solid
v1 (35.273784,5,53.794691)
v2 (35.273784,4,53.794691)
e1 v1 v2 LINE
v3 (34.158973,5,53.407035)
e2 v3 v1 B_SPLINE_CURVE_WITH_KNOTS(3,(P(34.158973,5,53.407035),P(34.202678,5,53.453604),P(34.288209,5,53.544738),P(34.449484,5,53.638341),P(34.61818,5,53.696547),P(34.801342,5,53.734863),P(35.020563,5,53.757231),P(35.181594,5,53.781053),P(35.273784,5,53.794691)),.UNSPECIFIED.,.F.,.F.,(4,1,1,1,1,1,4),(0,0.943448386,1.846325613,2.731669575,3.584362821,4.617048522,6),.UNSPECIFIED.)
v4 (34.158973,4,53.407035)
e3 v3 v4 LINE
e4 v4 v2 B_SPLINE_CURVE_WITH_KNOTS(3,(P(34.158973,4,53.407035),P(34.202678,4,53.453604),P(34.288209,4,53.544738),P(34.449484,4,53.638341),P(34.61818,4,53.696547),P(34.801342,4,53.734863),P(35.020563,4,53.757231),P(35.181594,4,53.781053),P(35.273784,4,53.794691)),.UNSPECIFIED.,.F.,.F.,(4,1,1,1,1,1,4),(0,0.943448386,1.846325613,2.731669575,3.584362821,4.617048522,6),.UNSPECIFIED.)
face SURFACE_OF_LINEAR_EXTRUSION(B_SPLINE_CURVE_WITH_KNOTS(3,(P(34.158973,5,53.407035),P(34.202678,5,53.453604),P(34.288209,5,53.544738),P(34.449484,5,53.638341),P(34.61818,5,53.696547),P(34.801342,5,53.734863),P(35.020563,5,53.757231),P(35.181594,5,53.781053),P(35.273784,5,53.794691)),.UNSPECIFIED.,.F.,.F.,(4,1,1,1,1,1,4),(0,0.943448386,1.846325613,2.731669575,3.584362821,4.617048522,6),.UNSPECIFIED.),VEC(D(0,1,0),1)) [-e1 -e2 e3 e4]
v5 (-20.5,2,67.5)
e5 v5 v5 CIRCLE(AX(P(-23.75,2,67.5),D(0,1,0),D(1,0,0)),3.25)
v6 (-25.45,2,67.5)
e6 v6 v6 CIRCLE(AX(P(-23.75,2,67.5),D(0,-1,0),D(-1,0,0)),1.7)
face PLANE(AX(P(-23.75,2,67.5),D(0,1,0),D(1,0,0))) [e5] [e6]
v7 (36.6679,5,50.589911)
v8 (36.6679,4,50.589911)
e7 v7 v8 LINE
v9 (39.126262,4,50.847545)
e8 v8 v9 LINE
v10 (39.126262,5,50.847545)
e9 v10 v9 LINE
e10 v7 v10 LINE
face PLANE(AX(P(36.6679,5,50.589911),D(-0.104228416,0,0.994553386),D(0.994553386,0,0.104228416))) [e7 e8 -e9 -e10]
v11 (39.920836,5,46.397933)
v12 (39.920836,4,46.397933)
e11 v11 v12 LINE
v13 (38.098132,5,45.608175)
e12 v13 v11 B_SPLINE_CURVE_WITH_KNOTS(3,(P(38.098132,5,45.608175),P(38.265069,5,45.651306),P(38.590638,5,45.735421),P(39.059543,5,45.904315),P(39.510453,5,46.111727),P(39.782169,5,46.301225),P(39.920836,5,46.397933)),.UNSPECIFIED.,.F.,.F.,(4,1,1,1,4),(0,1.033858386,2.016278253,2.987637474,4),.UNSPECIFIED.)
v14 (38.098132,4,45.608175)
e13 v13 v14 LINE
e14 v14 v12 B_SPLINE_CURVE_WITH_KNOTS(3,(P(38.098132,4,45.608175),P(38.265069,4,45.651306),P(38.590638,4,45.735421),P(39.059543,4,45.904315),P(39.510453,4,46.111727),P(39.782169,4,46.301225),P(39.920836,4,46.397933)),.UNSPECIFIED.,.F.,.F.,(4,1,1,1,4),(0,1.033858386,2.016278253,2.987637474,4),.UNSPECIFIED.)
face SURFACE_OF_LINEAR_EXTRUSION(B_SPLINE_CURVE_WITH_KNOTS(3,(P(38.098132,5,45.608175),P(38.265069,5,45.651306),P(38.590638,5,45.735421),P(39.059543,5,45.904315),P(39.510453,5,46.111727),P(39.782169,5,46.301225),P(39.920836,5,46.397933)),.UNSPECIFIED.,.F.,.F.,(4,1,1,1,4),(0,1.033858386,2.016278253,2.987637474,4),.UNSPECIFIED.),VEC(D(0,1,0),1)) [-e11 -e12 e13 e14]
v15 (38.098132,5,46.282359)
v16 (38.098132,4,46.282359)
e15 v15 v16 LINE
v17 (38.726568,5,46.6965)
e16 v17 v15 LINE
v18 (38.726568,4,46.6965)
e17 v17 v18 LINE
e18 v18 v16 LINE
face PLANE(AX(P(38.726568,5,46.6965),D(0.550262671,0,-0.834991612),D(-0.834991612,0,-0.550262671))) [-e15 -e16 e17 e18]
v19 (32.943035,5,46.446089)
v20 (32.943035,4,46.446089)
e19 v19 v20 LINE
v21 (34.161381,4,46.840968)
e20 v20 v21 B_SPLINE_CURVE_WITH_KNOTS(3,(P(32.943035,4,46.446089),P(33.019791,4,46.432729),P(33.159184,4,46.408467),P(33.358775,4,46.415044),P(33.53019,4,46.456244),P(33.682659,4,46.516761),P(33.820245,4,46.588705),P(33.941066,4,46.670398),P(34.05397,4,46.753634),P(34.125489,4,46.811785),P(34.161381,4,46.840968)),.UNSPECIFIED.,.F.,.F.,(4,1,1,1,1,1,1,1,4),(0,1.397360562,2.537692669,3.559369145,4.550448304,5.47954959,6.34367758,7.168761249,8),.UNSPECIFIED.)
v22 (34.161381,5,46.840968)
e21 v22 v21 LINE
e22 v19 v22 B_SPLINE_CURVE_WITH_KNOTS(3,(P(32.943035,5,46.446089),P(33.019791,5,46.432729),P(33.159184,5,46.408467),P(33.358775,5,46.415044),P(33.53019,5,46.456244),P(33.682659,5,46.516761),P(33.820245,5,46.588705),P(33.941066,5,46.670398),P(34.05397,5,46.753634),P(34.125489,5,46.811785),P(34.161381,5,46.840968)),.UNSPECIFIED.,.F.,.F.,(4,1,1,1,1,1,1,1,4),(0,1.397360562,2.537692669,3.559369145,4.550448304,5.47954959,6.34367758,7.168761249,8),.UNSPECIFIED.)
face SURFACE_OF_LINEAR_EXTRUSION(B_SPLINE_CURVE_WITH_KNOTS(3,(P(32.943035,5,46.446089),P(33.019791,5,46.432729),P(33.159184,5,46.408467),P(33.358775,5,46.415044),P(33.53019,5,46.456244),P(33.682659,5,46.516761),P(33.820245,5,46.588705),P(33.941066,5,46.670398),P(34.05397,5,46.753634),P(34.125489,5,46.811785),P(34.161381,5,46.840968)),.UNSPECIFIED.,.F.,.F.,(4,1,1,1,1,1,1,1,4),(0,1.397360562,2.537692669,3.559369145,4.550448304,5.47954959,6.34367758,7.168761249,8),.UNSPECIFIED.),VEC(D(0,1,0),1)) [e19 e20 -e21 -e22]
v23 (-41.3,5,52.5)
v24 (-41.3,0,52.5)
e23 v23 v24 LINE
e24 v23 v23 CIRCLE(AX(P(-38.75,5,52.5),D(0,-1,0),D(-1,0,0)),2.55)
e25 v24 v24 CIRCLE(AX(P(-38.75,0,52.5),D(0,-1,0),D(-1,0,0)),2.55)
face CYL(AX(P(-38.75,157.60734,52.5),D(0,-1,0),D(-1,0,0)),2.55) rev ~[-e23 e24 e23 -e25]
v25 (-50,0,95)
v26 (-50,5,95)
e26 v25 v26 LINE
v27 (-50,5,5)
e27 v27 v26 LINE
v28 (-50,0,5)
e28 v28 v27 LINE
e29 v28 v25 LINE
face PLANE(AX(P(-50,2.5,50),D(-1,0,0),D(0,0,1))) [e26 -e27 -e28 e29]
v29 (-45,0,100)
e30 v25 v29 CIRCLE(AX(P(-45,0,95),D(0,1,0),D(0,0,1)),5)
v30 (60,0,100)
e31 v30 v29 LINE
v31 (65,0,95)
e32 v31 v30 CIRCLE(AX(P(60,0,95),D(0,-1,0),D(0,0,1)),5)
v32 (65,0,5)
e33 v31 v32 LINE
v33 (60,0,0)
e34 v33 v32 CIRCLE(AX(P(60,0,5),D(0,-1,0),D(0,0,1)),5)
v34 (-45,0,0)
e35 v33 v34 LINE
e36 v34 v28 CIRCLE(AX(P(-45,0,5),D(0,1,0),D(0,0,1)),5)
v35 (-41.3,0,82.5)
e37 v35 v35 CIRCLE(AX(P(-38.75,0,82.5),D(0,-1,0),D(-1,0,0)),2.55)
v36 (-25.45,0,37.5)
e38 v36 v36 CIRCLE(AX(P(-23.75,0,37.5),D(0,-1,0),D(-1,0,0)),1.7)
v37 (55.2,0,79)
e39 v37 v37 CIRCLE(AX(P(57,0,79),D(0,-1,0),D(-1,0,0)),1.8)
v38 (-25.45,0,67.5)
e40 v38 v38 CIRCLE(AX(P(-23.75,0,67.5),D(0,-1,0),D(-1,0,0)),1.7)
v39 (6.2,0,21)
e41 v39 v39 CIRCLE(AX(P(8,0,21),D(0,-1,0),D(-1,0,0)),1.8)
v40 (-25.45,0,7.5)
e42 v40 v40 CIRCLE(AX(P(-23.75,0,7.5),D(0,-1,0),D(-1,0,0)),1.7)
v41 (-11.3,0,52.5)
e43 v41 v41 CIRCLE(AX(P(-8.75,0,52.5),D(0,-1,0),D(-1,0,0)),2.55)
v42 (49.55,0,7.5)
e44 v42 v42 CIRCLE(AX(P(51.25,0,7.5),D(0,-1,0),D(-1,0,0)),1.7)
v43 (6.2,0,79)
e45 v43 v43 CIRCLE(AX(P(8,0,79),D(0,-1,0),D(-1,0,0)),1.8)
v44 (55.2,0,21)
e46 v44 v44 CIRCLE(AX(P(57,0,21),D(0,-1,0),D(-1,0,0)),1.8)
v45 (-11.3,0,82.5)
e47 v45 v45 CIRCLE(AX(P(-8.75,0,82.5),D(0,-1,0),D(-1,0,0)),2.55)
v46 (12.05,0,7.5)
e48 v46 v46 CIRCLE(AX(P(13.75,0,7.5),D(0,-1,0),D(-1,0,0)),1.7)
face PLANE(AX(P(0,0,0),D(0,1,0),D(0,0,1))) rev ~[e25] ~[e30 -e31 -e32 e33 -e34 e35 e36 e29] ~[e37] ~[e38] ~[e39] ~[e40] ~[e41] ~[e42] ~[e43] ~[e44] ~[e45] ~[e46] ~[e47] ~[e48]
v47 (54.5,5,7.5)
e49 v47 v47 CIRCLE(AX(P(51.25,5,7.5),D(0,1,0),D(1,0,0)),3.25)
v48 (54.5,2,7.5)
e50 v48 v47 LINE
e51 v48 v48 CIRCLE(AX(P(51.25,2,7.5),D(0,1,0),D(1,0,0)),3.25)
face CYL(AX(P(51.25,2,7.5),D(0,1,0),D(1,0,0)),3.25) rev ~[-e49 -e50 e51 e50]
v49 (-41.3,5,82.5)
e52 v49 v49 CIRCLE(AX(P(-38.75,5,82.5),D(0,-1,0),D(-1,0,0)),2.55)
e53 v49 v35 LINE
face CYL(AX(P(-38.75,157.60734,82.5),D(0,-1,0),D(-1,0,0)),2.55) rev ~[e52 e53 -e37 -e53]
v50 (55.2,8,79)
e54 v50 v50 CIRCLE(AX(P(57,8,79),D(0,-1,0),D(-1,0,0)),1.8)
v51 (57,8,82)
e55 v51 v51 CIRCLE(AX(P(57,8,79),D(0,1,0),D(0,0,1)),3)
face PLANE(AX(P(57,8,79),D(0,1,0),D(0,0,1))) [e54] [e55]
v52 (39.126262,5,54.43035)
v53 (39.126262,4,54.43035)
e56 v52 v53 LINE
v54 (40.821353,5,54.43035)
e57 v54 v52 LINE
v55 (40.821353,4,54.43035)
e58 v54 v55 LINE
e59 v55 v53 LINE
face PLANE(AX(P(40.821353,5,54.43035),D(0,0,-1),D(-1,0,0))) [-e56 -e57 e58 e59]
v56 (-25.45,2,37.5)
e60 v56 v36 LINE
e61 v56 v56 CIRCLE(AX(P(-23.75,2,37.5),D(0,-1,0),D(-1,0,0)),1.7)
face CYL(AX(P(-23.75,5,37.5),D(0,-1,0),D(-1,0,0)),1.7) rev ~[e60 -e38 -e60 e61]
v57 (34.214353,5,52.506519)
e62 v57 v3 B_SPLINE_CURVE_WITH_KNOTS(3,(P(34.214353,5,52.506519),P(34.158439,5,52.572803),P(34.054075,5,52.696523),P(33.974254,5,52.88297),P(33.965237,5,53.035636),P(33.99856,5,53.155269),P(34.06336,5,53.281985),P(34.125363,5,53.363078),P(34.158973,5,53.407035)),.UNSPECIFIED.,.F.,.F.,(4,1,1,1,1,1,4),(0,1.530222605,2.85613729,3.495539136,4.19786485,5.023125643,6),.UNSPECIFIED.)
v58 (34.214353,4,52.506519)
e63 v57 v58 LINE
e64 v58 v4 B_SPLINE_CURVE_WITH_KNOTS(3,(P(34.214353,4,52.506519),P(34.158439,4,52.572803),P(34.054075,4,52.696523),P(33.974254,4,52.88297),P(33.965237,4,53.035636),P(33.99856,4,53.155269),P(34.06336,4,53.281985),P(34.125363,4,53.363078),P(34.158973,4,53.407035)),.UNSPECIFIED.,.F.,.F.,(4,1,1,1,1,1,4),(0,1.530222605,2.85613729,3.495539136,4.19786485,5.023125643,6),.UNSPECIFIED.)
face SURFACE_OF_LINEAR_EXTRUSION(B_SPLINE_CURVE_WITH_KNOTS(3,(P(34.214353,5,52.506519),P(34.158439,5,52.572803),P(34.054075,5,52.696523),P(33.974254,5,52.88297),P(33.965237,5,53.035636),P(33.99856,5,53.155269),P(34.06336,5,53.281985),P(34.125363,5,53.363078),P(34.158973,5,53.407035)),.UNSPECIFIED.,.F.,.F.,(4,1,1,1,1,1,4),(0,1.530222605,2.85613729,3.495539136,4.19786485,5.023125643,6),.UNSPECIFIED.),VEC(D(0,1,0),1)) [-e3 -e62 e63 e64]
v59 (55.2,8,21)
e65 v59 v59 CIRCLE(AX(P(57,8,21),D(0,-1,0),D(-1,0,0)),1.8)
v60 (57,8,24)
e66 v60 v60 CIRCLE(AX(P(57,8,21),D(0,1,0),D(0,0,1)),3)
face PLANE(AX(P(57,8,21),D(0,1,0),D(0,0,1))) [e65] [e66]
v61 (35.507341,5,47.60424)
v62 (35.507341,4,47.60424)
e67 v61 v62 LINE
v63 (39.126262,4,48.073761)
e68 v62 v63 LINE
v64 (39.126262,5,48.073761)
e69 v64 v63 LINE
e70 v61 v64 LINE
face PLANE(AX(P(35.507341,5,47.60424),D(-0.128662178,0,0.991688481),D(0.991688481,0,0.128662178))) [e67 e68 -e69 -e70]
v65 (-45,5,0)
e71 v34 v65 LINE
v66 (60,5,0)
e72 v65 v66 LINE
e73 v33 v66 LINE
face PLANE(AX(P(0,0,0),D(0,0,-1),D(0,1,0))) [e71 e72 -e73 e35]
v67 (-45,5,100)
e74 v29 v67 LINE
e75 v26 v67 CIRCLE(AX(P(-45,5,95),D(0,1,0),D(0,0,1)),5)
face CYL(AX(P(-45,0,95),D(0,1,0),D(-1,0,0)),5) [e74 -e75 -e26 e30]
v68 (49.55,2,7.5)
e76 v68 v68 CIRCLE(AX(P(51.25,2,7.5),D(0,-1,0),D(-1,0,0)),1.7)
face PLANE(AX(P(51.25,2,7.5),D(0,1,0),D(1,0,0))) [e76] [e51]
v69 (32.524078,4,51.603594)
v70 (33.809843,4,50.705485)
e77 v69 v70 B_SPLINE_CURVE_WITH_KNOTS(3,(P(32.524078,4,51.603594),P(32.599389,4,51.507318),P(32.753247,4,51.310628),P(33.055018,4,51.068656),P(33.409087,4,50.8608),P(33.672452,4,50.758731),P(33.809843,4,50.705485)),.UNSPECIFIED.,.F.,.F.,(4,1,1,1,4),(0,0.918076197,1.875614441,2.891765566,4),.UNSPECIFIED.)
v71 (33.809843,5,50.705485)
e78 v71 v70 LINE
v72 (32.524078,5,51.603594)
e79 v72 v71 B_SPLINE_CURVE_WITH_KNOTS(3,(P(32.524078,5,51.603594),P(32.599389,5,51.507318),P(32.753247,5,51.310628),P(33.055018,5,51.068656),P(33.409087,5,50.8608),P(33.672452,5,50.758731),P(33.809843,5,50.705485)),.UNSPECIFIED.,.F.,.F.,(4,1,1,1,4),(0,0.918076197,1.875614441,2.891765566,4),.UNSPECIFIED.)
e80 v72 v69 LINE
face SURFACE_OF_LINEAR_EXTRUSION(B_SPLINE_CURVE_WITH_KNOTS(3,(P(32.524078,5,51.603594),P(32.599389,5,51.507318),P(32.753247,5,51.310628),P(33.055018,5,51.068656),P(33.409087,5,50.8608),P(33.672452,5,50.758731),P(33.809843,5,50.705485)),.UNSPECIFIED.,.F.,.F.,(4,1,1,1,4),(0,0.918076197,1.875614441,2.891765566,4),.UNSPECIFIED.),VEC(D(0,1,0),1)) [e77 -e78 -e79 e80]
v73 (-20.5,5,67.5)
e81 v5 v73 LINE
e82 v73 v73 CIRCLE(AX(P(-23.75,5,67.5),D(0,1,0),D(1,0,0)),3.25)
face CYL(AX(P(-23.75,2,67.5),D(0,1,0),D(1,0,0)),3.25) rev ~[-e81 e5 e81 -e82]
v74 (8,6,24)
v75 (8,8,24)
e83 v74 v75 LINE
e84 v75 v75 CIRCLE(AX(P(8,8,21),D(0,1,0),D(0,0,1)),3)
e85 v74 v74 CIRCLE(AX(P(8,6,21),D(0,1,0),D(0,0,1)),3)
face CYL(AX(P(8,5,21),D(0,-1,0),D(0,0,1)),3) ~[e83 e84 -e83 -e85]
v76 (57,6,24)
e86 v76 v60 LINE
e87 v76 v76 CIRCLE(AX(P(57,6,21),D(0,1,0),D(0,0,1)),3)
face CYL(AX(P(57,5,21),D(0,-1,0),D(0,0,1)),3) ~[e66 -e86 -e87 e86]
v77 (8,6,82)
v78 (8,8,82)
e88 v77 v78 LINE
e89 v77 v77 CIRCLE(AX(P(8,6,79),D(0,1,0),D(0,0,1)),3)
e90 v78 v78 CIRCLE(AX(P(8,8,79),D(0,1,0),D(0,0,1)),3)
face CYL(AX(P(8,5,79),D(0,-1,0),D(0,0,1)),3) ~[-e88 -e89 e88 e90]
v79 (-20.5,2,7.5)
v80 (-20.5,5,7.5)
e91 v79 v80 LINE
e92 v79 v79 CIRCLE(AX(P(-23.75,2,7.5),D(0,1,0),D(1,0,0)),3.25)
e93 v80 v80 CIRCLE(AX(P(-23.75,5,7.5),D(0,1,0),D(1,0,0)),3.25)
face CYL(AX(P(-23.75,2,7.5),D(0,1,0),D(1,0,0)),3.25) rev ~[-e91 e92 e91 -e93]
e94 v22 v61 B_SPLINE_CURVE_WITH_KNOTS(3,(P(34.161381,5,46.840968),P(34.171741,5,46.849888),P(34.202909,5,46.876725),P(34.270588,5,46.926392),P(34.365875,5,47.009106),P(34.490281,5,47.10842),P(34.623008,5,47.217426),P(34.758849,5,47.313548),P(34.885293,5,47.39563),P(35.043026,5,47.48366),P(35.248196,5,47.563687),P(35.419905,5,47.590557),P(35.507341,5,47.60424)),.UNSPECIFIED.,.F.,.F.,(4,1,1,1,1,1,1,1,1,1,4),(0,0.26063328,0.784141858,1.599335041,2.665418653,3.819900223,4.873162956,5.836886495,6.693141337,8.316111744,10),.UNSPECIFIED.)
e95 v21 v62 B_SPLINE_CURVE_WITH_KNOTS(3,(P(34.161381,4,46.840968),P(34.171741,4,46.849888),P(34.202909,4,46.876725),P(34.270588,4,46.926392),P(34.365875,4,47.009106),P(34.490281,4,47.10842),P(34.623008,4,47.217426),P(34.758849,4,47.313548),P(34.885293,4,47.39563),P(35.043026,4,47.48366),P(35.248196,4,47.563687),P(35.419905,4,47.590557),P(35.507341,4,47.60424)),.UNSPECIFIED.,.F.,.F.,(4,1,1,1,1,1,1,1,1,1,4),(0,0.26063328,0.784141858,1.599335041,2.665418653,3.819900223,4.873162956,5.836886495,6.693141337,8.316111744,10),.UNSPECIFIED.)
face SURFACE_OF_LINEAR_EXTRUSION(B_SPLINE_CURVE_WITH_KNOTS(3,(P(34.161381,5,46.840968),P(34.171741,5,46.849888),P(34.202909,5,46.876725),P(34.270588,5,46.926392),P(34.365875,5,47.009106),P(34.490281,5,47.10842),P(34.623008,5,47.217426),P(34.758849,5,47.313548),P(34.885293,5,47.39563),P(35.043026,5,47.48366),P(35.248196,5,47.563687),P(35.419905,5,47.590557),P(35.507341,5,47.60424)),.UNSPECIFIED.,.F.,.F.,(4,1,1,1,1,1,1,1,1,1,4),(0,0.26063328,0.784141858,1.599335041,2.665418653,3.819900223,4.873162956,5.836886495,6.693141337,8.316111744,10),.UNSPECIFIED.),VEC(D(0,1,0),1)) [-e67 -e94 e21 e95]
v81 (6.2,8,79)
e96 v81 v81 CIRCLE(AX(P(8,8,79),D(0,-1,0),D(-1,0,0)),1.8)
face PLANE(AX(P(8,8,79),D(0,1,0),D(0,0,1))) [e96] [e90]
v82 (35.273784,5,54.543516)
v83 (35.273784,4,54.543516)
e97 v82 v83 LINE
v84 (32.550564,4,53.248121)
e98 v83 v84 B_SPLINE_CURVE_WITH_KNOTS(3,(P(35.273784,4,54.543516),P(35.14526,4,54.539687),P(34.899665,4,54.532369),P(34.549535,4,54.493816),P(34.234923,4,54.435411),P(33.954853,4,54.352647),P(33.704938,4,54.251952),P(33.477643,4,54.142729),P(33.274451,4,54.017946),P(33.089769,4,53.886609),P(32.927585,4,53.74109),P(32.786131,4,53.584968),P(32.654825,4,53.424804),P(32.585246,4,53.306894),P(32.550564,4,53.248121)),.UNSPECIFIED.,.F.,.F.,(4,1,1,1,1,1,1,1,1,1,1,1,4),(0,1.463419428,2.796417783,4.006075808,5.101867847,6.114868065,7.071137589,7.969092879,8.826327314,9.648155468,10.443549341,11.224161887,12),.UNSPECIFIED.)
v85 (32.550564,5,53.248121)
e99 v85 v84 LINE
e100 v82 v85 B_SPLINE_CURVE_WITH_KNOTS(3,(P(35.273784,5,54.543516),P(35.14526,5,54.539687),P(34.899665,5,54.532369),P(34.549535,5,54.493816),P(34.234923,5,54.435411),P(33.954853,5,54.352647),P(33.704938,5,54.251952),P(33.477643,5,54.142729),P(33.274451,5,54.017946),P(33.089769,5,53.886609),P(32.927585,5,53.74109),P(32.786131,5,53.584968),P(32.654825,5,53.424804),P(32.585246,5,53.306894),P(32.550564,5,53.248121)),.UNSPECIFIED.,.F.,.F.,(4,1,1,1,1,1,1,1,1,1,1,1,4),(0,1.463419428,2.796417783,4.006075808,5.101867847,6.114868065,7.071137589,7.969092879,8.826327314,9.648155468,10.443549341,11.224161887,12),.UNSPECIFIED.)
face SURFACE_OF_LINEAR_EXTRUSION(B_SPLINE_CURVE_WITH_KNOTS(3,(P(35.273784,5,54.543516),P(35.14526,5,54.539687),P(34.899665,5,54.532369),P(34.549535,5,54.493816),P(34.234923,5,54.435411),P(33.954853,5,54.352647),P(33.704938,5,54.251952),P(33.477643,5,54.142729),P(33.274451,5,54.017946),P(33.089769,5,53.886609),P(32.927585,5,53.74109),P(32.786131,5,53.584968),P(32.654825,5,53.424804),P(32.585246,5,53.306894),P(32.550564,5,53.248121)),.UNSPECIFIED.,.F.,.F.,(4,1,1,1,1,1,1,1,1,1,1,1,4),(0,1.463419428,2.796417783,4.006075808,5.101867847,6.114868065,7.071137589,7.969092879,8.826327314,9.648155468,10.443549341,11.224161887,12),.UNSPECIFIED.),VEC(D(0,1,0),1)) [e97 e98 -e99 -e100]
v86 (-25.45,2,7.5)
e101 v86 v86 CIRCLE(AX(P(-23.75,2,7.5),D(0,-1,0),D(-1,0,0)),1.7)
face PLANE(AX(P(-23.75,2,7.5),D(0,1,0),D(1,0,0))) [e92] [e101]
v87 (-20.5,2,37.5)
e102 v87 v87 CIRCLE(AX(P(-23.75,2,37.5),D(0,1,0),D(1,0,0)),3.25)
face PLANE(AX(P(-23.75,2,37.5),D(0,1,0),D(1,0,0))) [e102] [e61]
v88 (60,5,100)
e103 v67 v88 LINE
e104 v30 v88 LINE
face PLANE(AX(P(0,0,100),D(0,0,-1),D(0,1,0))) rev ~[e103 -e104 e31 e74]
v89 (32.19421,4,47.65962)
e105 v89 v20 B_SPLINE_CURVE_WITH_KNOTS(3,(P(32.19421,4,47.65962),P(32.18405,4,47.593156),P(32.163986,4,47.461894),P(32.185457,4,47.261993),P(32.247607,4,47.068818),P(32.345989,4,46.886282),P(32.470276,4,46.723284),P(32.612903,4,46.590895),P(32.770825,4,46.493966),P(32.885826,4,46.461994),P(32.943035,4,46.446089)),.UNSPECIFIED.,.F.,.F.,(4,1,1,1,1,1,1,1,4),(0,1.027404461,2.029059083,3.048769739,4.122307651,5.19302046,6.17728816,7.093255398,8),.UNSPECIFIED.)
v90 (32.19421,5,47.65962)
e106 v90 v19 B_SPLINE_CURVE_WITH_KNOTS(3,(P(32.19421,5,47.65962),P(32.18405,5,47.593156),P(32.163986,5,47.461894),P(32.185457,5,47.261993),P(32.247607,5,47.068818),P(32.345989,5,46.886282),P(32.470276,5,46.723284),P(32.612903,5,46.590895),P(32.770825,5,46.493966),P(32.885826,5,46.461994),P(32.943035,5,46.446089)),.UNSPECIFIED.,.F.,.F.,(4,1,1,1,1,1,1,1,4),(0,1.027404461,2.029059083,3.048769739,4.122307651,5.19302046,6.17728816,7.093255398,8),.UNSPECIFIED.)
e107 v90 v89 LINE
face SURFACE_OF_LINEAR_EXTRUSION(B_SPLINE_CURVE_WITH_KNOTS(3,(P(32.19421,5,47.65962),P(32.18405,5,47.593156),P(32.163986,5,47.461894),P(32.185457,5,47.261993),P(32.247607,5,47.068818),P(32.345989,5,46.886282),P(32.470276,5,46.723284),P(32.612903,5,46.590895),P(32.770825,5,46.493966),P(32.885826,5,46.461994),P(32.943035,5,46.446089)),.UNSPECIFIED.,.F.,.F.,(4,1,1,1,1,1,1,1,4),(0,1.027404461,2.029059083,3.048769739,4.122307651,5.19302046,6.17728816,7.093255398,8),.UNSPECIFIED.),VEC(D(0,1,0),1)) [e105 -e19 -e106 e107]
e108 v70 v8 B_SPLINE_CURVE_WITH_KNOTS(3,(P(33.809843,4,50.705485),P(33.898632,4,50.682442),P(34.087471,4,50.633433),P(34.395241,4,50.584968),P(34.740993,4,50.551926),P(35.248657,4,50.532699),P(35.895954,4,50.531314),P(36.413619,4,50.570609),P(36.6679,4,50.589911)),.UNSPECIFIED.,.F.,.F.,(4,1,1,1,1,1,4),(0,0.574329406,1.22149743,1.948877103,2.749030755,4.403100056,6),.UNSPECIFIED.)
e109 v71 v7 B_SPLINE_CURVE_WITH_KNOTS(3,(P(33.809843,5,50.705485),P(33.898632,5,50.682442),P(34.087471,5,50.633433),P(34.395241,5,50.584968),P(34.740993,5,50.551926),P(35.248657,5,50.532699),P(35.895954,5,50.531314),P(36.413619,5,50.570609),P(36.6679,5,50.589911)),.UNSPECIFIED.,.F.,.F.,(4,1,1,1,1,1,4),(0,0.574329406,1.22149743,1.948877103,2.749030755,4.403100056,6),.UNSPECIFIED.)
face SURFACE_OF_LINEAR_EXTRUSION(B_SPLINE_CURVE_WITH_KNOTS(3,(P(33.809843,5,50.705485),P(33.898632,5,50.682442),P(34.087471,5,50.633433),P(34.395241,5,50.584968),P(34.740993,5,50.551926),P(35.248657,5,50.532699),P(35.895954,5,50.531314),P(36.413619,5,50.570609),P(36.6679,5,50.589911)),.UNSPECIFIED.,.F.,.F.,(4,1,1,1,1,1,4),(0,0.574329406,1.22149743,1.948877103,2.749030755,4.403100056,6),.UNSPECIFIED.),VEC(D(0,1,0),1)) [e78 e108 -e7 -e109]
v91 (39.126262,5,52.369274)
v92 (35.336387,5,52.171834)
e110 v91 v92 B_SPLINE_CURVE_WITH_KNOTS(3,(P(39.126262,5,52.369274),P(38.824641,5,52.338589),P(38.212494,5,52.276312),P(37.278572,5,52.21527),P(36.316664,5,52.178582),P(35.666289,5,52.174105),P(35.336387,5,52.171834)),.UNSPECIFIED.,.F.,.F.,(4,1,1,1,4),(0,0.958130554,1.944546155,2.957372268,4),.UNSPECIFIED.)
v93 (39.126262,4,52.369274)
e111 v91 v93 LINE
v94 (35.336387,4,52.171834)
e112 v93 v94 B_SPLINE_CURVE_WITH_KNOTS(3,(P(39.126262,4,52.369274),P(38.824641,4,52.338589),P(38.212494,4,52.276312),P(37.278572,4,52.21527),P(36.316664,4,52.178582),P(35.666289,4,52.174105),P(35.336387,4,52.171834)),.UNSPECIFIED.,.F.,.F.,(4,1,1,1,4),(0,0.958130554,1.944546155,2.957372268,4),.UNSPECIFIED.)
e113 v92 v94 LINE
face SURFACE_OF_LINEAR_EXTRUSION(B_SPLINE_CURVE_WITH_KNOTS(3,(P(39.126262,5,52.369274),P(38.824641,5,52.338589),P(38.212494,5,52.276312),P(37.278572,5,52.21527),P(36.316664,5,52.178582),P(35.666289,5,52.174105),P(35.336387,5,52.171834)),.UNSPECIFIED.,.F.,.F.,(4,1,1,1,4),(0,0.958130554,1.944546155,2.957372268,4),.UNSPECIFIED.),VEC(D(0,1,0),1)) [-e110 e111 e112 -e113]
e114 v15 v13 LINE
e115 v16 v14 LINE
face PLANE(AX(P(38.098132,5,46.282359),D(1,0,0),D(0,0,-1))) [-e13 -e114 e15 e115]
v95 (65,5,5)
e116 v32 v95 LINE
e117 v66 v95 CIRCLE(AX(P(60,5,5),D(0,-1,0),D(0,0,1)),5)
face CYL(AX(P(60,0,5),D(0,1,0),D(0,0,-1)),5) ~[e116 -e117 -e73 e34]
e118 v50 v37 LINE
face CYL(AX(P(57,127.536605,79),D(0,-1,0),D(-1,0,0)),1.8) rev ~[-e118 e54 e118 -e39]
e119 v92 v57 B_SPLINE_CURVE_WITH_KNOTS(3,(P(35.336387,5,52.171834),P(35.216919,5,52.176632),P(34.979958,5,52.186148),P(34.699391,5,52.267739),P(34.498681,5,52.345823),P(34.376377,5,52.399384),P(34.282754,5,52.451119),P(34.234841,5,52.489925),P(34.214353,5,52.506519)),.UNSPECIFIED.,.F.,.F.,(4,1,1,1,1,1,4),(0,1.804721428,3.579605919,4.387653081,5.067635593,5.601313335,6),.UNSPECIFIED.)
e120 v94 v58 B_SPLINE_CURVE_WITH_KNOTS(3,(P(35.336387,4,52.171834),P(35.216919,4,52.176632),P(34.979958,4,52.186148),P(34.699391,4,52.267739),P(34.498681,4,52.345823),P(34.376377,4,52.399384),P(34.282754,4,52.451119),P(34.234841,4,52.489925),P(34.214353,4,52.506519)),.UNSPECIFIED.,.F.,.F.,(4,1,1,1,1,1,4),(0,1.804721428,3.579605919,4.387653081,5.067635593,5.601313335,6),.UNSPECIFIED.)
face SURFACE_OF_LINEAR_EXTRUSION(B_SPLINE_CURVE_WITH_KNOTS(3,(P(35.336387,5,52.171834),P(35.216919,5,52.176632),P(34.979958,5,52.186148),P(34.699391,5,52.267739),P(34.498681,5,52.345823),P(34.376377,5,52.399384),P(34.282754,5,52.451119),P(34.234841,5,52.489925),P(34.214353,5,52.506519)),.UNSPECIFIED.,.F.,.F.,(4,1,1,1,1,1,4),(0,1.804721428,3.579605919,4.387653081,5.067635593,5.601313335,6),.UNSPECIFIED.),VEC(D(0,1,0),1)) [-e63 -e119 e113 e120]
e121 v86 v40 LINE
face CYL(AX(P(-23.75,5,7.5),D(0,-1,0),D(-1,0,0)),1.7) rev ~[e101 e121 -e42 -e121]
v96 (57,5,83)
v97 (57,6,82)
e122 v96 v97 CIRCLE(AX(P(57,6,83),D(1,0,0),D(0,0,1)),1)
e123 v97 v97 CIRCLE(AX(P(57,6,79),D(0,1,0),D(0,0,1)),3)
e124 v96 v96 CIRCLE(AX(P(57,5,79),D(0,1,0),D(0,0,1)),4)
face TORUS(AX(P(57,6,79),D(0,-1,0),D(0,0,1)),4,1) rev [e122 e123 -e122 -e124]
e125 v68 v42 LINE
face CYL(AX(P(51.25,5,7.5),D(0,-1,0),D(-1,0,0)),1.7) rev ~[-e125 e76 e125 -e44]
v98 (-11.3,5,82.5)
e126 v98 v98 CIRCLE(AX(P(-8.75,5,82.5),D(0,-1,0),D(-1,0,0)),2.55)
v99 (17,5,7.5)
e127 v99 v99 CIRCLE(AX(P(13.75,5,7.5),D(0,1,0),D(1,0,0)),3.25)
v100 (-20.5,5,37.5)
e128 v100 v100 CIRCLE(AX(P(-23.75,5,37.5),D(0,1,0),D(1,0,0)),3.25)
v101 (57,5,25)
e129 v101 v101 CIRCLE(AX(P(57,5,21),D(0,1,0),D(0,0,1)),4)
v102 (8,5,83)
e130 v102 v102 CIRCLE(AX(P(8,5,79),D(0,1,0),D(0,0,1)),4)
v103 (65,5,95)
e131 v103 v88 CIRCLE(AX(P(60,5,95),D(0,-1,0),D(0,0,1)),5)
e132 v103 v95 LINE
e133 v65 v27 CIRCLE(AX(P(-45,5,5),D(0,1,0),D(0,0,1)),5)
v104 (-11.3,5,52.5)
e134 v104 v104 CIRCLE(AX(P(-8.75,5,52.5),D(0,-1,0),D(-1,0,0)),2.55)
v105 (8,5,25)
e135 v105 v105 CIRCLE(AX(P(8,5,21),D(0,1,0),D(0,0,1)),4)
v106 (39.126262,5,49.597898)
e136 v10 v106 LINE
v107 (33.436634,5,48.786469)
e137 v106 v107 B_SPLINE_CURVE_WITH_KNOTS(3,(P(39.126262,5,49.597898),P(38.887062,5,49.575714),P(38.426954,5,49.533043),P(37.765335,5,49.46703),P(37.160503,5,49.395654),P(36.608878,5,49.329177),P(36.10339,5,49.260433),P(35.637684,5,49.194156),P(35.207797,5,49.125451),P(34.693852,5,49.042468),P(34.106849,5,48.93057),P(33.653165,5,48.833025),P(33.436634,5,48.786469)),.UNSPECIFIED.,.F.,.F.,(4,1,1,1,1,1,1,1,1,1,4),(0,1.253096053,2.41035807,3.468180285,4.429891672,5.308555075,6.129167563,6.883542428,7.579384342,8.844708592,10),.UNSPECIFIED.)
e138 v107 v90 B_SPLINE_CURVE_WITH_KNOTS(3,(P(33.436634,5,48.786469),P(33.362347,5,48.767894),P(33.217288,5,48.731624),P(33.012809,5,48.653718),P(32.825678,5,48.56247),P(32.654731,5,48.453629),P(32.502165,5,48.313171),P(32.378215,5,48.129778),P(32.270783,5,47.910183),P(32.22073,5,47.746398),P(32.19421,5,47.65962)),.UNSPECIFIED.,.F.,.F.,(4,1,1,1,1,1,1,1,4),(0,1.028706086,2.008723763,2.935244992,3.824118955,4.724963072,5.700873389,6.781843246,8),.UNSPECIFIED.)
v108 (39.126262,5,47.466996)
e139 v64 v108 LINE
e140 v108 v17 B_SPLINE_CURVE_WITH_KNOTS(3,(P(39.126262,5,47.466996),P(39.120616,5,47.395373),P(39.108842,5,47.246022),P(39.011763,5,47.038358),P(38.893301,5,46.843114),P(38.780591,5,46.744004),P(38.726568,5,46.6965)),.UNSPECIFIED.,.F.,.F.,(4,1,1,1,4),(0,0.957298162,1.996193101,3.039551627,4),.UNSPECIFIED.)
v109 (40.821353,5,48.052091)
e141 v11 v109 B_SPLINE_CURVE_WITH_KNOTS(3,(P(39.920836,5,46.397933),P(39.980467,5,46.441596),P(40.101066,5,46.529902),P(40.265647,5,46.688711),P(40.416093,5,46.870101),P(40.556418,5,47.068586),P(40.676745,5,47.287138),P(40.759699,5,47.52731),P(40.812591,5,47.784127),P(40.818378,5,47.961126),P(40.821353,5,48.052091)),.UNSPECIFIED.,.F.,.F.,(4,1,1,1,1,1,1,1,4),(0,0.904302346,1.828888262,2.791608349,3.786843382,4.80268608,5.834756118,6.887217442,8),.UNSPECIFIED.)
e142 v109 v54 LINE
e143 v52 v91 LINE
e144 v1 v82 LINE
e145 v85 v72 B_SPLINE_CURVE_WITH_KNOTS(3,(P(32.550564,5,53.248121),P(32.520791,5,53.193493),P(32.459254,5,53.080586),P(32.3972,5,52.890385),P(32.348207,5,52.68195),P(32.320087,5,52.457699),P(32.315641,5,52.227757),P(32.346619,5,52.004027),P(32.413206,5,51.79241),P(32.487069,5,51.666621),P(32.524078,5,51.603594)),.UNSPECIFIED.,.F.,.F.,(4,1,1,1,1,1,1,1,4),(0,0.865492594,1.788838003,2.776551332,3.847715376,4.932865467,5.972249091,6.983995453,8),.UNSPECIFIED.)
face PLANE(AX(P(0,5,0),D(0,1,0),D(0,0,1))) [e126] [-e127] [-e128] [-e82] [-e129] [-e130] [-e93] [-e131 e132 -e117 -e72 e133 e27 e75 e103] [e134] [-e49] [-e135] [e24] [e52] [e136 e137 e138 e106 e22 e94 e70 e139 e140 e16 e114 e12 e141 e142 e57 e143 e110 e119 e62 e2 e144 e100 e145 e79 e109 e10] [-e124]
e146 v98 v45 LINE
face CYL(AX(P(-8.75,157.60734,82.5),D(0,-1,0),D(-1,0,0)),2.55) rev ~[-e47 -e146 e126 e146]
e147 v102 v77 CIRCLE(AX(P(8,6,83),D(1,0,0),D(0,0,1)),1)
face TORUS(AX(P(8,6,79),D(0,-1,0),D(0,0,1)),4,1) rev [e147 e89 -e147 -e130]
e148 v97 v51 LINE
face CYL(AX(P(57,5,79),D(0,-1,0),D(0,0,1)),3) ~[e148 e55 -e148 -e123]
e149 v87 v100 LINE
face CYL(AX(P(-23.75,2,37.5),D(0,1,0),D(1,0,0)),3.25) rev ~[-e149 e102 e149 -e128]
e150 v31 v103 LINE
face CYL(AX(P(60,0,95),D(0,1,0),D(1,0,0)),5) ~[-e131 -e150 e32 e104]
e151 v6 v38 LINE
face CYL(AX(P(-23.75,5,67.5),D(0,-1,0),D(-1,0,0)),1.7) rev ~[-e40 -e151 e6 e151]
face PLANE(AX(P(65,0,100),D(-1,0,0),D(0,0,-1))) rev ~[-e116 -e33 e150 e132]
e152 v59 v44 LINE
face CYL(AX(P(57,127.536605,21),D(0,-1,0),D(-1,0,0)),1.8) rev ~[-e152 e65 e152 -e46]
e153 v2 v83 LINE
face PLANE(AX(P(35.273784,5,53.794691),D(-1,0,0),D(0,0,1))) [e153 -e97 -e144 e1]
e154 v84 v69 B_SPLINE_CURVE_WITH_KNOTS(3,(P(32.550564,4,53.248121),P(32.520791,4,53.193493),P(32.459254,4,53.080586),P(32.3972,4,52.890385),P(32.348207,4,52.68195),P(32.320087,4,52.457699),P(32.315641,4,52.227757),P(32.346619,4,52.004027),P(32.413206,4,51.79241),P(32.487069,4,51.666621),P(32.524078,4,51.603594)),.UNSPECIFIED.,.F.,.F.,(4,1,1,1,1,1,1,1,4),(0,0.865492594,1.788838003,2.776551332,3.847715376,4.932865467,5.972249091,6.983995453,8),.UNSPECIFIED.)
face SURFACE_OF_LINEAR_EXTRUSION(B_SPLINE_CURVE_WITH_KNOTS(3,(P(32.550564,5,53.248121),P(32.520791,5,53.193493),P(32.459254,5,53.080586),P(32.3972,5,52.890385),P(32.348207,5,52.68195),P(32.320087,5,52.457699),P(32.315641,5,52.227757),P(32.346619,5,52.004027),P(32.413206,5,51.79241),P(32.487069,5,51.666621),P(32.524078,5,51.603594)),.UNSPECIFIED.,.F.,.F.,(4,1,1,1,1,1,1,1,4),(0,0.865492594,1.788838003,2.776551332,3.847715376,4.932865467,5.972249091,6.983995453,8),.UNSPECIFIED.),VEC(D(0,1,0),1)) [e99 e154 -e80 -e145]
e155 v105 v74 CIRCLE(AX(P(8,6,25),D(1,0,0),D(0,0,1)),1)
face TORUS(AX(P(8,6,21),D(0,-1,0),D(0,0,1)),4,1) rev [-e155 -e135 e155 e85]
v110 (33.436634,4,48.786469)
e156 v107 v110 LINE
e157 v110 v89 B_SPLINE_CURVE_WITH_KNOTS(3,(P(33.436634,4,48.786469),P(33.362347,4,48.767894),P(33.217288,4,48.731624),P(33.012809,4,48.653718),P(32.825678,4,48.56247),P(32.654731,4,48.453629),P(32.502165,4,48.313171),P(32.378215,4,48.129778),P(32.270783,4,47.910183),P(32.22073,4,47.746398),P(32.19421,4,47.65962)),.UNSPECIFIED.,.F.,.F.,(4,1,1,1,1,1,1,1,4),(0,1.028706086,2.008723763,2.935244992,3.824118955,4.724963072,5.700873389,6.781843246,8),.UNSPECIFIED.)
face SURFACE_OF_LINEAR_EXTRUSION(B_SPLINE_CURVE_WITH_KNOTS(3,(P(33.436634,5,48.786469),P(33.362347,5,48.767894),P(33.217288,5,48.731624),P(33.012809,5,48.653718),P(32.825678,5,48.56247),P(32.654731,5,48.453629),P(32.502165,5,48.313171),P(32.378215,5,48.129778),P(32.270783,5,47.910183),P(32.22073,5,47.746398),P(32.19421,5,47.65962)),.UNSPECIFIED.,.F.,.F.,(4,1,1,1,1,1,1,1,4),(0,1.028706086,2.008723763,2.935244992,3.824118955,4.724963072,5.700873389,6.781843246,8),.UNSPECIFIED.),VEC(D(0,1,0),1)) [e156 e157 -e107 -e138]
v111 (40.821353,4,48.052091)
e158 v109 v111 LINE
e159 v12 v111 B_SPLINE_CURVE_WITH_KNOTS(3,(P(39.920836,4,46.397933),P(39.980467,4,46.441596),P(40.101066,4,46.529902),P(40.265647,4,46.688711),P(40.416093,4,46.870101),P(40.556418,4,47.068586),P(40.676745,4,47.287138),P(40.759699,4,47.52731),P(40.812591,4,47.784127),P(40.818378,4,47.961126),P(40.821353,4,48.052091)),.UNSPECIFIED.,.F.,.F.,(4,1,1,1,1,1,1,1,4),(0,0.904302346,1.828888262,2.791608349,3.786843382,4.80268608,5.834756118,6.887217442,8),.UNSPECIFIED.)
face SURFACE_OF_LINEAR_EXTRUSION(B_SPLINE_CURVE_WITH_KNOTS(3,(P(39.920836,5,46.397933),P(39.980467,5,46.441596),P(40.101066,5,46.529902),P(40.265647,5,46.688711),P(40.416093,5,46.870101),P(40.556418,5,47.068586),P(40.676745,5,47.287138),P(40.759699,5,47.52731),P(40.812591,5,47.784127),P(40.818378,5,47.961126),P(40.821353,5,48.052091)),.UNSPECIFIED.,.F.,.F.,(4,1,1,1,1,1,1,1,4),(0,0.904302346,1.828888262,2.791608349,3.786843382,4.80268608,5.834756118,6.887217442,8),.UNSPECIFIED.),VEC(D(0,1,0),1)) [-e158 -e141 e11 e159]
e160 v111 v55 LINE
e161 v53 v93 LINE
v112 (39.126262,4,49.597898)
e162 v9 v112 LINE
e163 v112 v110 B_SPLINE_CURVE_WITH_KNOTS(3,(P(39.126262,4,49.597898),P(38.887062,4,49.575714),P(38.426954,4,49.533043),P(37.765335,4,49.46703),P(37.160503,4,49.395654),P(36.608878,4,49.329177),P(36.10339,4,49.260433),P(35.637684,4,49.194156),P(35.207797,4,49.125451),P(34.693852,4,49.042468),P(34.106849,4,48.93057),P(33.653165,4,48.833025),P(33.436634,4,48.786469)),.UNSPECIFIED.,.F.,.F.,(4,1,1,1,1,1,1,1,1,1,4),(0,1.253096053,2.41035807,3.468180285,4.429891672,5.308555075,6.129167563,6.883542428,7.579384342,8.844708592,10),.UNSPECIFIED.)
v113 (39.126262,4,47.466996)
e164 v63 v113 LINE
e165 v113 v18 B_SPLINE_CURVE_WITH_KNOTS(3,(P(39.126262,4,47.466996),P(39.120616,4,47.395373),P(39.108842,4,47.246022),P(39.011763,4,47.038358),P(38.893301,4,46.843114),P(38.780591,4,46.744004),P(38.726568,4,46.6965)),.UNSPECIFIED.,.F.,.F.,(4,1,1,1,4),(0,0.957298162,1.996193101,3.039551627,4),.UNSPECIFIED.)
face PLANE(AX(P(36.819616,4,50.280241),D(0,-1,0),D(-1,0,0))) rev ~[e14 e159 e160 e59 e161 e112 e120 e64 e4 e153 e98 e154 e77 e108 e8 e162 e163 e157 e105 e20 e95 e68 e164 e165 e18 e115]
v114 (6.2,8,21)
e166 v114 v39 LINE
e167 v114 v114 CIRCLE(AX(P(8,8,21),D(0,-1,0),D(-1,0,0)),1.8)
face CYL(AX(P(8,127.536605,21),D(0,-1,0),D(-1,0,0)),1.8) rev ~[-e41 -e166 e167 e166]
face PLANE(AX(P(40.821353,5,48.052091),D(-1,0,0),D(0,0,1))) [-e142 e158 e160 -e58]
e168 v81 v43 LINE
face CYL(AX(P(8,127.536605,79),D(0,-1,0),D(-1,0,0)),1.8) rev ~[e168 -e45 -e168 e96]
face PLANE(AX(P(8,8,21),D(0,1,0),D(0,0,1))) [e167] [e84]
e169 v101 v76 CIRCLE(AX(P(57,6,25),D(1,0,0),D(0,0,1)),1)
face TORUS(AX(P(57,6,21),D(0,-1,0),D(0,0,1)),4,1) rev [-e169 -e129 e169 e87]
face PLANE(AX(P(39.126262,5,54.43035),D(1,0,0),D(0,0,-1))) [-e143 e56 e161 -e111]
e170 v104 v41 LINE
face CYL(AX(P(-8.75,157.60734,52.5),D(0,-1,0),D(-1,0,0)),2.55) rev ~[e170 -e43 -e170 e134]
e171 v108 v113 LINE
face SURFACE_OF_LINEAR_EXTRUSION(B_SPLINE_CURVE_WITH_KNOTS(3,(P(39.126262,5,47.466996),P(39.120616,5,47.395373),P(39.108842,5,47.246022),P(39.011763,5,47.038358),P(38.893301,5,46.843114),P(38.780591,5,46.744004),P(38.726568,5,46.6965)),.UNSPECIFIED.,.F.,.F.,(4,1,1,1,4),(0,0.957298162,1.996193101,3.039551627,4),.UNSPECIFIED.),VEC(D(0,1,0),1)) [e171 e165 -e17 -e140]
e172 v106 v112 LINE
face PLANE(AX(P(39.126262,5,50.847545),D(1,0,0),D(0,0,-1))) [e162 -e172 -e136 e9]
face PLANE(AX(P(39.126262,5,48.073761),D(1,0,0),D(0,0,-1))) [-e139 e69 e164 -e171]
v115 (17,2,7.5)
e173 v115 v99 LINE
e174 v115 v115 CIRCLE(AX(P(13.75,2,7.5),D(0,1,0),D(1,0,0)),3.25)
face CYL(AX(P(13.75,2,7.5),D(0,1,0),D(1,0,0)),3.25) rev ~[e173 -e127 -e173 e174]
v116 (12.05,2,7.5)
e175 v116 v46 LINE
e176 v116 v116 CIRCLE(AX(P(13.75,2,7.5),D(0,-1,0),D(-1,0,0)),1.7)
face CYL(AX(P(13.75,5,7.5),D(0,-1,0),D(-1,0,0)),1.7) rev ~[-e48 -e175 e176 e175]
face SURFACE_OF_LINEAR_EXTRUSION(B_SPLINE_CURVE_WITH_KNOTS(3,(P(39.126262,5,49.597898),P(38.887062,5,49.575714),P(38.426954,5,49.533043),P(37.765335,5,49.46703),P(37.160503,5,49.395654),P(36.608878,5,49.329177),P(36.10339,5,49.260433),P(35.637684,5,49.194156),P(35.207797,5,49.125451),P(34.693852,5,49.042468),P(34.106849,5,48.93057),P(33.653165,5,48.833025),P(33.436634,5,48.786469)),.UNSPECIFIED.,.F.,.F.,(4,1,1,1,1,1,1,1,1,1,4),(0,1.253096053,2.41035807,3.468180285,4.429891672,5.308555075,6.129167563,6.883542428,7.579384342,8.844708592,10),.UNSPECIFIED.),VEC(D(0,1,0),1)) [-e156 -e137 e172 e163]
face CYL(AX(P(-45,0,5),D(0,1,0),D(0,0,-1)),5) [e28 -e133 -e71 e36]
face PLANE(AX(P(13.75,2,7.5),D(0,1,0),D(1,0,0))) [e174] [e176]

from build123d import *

# Parameters (mm, degrees)
SKETCH1_W                      = 65
SKETCH1_H                      = 100
BOSS_EXTRUDE1_DEPTH            = 5
SKETCH2_R                      = 3
BOSS_EXTRUDE2_DEPTH            = 3
F_3_6_3_6_DIAMETER_HOLE1_D     = 3.6
CBORE_FOR_M3_SHCS1_D           = 3.4
CBORE_FOR_M3_SHCS1_CBORE_D     = 6.5
CBORE_FOR_M3_SHCS1_CBORE_DEPTH = 3
SKETCH9_W                      = 100
SKETCH9_H                      = 5
BOSS_EXTRUDE3_DEPTH            = 50
CBORE_FOR_M3_SHCS2_D           = 3.4
CBORE_FOR_M3_SHCS2_CBORE_D     = 6.5
CBORE_FOR_M3_SHCS2_CBORE_DEPTH = 3
CUT_EXTRUDE1_DEPTH             = 1
FILLET1_R                      = 1
FILLET2_R                      = 5
F_5_1_5_1_DIAMETER_HOLE1_D     = 5.1


with BuildPart() as part:
    # Sketch1 → Boss-Extrude1 (new body)
    with BuildSketch(Plane(origin=(0, 0, 0), x_dir=(1, 0, 0), z_dir=(0, 1, 0))):
        with Locations((32.5, -50)):
            Rectangle(SKETCH1_W, SKETCH1_H)
    extrude(amount=BOSS_EXTRUDE1_DEPTH)

    # Sketch2 → Boss-Extrude2 (add)
    with BuildSketch(Plane(origin=(0, 5, 0), x_dir=(1, 0, 0), z_dir=(0, 1, 0))):
        with Locations(Location((8, -21, 0), (0, 0, 270))):
            Circle(SKETCH2_R)
        with Locations(Location((57, -21, 0), (0, 0, 270))):
            Circle(SKETCH2_R)
        with Locations(Location((57, -79, 0), (0, 0, 270))):
            Circle(SKETCH2_R)
        with Locations(Location((8, -79, 0), (0, 0, 270))):
            Circle(SKETCH2_R)
    extrude(amount=BOSS_EXTRUDE2_DEPTH)

    # Ø3.6 (3.6) Diameter Hole1 (through all)
    with Locations(Plane(origin=(0, 8, 0), x_dir=(1, 0, 0), z_dir=(0, 1, 0))):
        with Locations((8, -21), (57, -21), (57, -79), (8, -79)):
            Hole(F_3_6_3_6_DIAMETER_HOLE1_D / 2)

    # CBORE for M3 SHCS1 (through all)
    with Locations(Plane(origin=(0, 5, 0), x_dir=(1, 0, 0), z_dir=(0, 1, 0))):
        with Locations((13.75, -7.5), (51.25, -7.5)):
            CounterBoreHole(CBORE_FOR_M3_SHCS1_D / 2, CBORE_FOR_M3_SHCS1_CBORE_D / 2, CBORE_FOR_M3_SHCS1_CBORE_DEPTH)

    # Sketch9 → Boss-Extrude3 (add)
    with BuildSketch(Plane.ZY):
        with Locations((50, 2.5)):
            Rectangle(SKETCH9_W, SKETCH9_H)
    extrude(amount=BOSS_EXTRUDE3_DEPTH)

    # CBORE for M3 SHCS2 (through all)
    with Locations(Plane(origin=(0, 5, 0), x_dir=(1, 0, 0), z_dir=(0, 1, 0))):
        with Locations((-23.75, -67.5), (-23.75, -7.5), (-23.75, -37.5)):
            CounterBoreHole(CBORE_FOR_M3_SHCS2_D / 2, CBORE_FOR_M3_SHCS2_CBORE_D / 2, CBORE_FOR_M3_SHCS2_CBORE_DEPTH)

    # Sketch16 → Cut-Extrude1 (cut)
    with BuildSketch(Plane(origin=(0, 5, 0), x_dir=(1, 0, 0), z_dir=(0, 1, 0))):
        with BuildLine():
            Line((39.126262207, -50.847545166), (39.126262207, -49.597897606))
            add(Edge.make_bspline(
                [(39.126262207, -49.597897606), (38.887061603, -49.575713781), (38.426953933, -49.5330427), (37.765335099, -49.467029699), (37.16050318, -49.395654418), (36.608878249, -49.329176979), (36.103389832, -49.260432621), (35.637684233, -49.194155672), (35.207796553, -49.125451167), (34.693851603, -49.042468377), (34.106849427, -48.930569543), (33.65316464, -48.833024779), (33.43663372, -48.786469421)],
                knots=[0, 0, 0, 0, 1.253096053, 2.41035807, 3.468180285, 4.429891672, 5.308555075, 6.129167563, 6.883542428, 7.579384342, 8.844708592, 10, 10, 10, 10], degree=3))
            add(Edge.make_bspline(
                [(33.43663372, -48.786469421), (33.362346649, -48.767894411), (33.217288497, -48.731623541), (33.012809199, -48.653717957), (32.825678299, -48.562470211), (32.654731085, -48.453628715), (32.502165181, -48.313171441), (32.378215441, -48.129778401), (32.270782782, -47.910183348), (32.22072951, -47.746398482), (32.194209557, -47.659619598)],
                knots=[0, 0, 0, 0, 1.028706086, 2.008723763, 2.935244992, 3.824118955, 4.724963072, 5.700873389, 6.781843246, 8, 8, 8, 8], degree=3))
            add(Edge.make_bspline(
                [(32.194209557, -47.659619598), (32.184050249, -47.593155924), (32.163986257, -47.461894353), (32.185456965, -47.261992825), (32.24760698, -47.068817641), (32.345988654, -46.886281707), (32.470276431, -46.723283517), (32.612903387, -46.590894898), (32.770825068, -46.49396615), (32.885825633, -46.461994139), (32.943034973, -46.44608902)],
                knots=[0, 0, 0, 0, 1.027404461, 2.029059083, 3.048769739, 4.122307651, 5.19302046, 6.17728816, 7.093255398, 8, 8, 8, 8], degree=3))
            add(Edge.make_bspline(
                [(32.943034973, -46.44608902), (33.019790611, -46.432729059), (33.159183567, -46.408466548), (33.358775166, -46.415044291), (33.530189985, -46.45624418), (33.682659012, -46.516761006), (33.820245014, -46.588705021), (33.94106644, -46.670397622), (34.053969979, -46.753634053), (34.125488835, -46.811784665), (34.161381149, -46.840968018)],
                knots=[0, 0, 0, 0, 1.397360562, 2.537692669, 3.559369145, 4.550448304, 5.47954959, 6.34367758, 7.168761249, 8, 8, 8, 8], degree=3))
            add(Edge.make_bspline(
                [(34.161381149, -46.840968018), (34.171740761, -46.84988817), (34.20290871, -46.876725361), (34.270587507, -46.926391538), (34.365875235, -47.009106142), (34.490280901, -47.108420261), (34.623007569, -47.217425956), (34.758849499, -47.313547894), (34.885293124, -47.395630136), (35.04302611, -47.483660165), (35.248195948, -47.563686604), (35.419904702, -47.590557351), (35.50734066, -47.604240227)],
                knots=[0, 0, 0, 0, 0.26063328, 0.784141858, 1.599335041, 2.665418653, 3.819900223, 4.873162956, 5.836886495, 6.693141337, 8.316111744, 10, 10, 10, 10], degree=3))
            Line((35.50734066, -47.604240227), (39.126262207, -48.073760986))
            Line((39.126262207, -48.073760986), (39.126262207, -47.466995697))
            add(Edge.make_bspline(
                [(39.126262207, -47.466995697), (39.120615941, -47.395372643), (39.108842141, -47.246021633), (39.011762919, -47.038358034), (38.893301343, -46.84311371), (38.780591009, -46.744004371), (38.726567612, -46.696500092)],
                knots=[0, 0, 0, 0, 0.957298162, 1.996193101, 3.039551627, 4, 4, 4, 4], degree=3))
            Line((38.726567612, -46.696500092), (38.098132133, -46.282358704))
            Line((38.098132133, -46.282358704), (38.098132133, -45.608175049))
            add(Edge.make_bspline(
                [(38.098132133, -45.608175049), (38.265069197, -45.651305716), (38.590637549, -45.73542113), (39.059543061, -45.904315208), (39.510452961, -46.111726833), (39.782169404, -46.301225336), (39.9208358, -46.397933044)],
                knots=[0, 0, 0, 0, 1.033858386, 2.016278253, 2.987637474, 4, 4, 4, 4], degree=3))
            add(Edge.make_bspline(
                [(39.9208358, -46.397933044), (39.980466774, -46.441596233), (40.101066248, -46.529901979), (40.265647201, -46.68871056), (40.416093013, -46.870100588), (40.556417575, -47.068585687), (40.676744862, -47.287138148), (40.759698519, -47.527310442), (40.812591451, -47.784126696), (40.818378437, -47.961125766), (40.821352539, -48.052090797)],
                knots=[0, 0, 0, 0, 0.904302346, 1.828888262, 2.791608349, 3.786843382, 4.80268608, 5.834756118, 6.887217442, 8, 8, 8, 8], degree=3))
            Line((40.821352539, -48.052090797), (40.821352539, -54.430349731))
            Line((40.821352539, -54.430349731), (39.126262207, -54.430349731))
            Line((39.126262207, -54.430349731), (39.126262207, -52.369273987))
            add(Edge.make_bspline(
                [(39.126262207, -52.369273987), (38.824641017, -52.338588763), (38.212494456, -52.276312453), (37.278571929, -52.215269505), (36.316663871, -52.178581692), (35.66628914, -52.174105191), (35.336386948, -52.171834488)],
                knots=[0, 0, 0, 0, 0.958130554, 1.944546155, 2.957372268, 4, 4, 4, 4], degree=3))
            add(Edge.make_bspline(
                [(35.336386948, -52.171834488), (35.216918961, -52.176632011), (34.979958118, -52.18614774), (34.699390908, -52.267738632), (34.498680733, -52.345822532), (34.376377238, -52.399383952), (34.282754213, -52.45111856), (34.234840863, -52.489924695), (34.214352722, -52.506518517)],
                knots=[0, 0, 0, 0, 1.804721428, 3.579605919, 4.387653081, 5.067635593, 5.601313335, 6, 6, 6, 6], degree=3))
            add(Edge.make_bspline(
                [(34.214352722, -52.506518517), (34.158438507, -52.572803412), (34.054075473, -52.696523165), (33.974254217, -52.882970365), (33.965236632, -53.035635661), (33.99855982, -53.155268657), (34.063359986, -53.281985338), (34.125363446, -53.363077846), (34.158973351, -53.407035255)],
                knots=[0, 0, 0, 0, 1.530222605, 2.85613729, 3.495539136, 4.19786485, 5.023125643, 6, 6, 6, 6], degree=3))
            add(Edge.make_bspline(
                [(34.158973351, -53.407035255), (34.202678445, -53.453603851), (34.288209182, -53.54473845), (34.449483531, -53.638340717), (34.618180335, -53.696546772), (34.801341682, -53.734863252), (35.02056346, -53.757230953), (35.181594158, -53.781052837), (35.27378418, -53.794690857)],
                knots=[0, 0, 0, 0, 0.943448386, 1.846325613, 2.731669575, 3.584362821, 4.617048522, 6, 6, 6, 6], degree=3))
            Line((35.27378418, -53.794690857), (35.27378418, -54.543516273))
            add(Edge.make_bspline(
                [(35.27378418, -54.543516273), (35.145259799, -54.539686724), (34.899665229, -54.532368918), (34.549534649, -54.49381644), (34.23492324, -54.435411311), (33.95485327, -54.352646637), (33.704937688, -54.251951832), (33.47764334, -54.142729191), (33.274451352, -54.017945692), (33.089768771, -53.886609091), (32.927584898, -53.741089605), (32.786131125, -53.584968182), (32.654824603, -53.424803574), (32.58524624, -53.30689432), (32.550563774, -53.248120537)],
                knots=[0, 0, 0, 0, 1.463419428, 2.796417783, 4.006075808, 5.101867847, 6.114868065, 7.071137589, 7.969092879, 8.826327314, 9.648155468, 10.443549341, 11.224161887, 12, 12, 12, 12], degree=3))
            add(Edge.make_bspline(
                [(32.550563774, -53.248120537), (32.520790697, -53.193492864), (32.459254397, -53.080585998), (32.397200219, -52.890384649), (32.348206864, -52.6819503), (32.320086722, -52.457698844), (32.315640727, -52.227756787), (32.34661926, -52.004027153), (32.413206209, -51.79241002), (32.487069025, -51.66662071), (32.524077988, -51.603593979)],
                knots=[0, 0, 0, 0, 0.865492594, 1.788838003, 2.776551332, 3.847715376, 4.932865467, 5.972249091, 6.983995453, 8, 8, 8, 8], degree=3))
            add(Edge.make_bspline(
                [(32.524077988, -51.603593979), (32.599388708, -51.507318221), (32.75324726, -51.310628445), (33.055018494, -51.068656229), (33.409086865, -50.860800161), (33.672452045, -50.758731497), (33.809842529, -50.705485039)],
                knots=[0, 0, 0, 0, 0.918076197, 1.875614441, 2.891765566, 4, 4, 4, 4], degree=3))
            add(Edge.make_bspline(
                [(33.809842529, -50.705485039), (33.898631758, -50.682441773), (34.087470798, -50.633432807), (34.395240763, -50.584968257), (34.740993079, -50.551926433), (35.248657148, -50.532699083), (35.895954097, -50.531314455), (36.413618911, -50.570608952), (36.667899666, -50.589910698)],
                knots=[0, 0, 0, 0, 0.574329406, 1.22149743, 1.948877103, 2.749030755, 4.403100056, 6, 6, 6, 6], degree=3))
            Line((36.667899666, -50.589910698), (39.126262207, -50.847545166))
        make_face()
    extrude(amount=-CUT_EXTRUDE1_DEPTH, mode=Mode.SUBTRACT)

    # Fillet1
    fillet1_edges = [part.edges().sort_by_distance(p)[0] for p in [
        (8, 5, 18),
        (57, 5, 18),
        (57, 5, 76),
        (8, 5, 76),
    ]]
    fillet(fillet1_edges, radius=FILLET1_R)

    # Fillet2
    fillet2_edges = [part.edges().sort_by_distance(p)[0] for p in [
        (-50, 2.5, 0),
        (-50, 2.5, 100),
        (65, 2.5, 0),
        (65, 2.5, 100),
    ]]
    fillet(fillet2_edges, radius=FILLET2_R)

    # Ø5.1 (5.1) Diameter Hole1 (through all)
    with Locations(Plane(origin=(0, 5, 0), x_dir=(1, 0, 0), z_dir=(0, 1, 0))):
        with Locations((-38.75, -82.5), (-8.75, -52.5), (-38.75, -52.5), (-8.75, -82.5)):
            Hole(F_5_1_5_1_DIAMETER_HOLE1_D / 2)


solid = part.part
